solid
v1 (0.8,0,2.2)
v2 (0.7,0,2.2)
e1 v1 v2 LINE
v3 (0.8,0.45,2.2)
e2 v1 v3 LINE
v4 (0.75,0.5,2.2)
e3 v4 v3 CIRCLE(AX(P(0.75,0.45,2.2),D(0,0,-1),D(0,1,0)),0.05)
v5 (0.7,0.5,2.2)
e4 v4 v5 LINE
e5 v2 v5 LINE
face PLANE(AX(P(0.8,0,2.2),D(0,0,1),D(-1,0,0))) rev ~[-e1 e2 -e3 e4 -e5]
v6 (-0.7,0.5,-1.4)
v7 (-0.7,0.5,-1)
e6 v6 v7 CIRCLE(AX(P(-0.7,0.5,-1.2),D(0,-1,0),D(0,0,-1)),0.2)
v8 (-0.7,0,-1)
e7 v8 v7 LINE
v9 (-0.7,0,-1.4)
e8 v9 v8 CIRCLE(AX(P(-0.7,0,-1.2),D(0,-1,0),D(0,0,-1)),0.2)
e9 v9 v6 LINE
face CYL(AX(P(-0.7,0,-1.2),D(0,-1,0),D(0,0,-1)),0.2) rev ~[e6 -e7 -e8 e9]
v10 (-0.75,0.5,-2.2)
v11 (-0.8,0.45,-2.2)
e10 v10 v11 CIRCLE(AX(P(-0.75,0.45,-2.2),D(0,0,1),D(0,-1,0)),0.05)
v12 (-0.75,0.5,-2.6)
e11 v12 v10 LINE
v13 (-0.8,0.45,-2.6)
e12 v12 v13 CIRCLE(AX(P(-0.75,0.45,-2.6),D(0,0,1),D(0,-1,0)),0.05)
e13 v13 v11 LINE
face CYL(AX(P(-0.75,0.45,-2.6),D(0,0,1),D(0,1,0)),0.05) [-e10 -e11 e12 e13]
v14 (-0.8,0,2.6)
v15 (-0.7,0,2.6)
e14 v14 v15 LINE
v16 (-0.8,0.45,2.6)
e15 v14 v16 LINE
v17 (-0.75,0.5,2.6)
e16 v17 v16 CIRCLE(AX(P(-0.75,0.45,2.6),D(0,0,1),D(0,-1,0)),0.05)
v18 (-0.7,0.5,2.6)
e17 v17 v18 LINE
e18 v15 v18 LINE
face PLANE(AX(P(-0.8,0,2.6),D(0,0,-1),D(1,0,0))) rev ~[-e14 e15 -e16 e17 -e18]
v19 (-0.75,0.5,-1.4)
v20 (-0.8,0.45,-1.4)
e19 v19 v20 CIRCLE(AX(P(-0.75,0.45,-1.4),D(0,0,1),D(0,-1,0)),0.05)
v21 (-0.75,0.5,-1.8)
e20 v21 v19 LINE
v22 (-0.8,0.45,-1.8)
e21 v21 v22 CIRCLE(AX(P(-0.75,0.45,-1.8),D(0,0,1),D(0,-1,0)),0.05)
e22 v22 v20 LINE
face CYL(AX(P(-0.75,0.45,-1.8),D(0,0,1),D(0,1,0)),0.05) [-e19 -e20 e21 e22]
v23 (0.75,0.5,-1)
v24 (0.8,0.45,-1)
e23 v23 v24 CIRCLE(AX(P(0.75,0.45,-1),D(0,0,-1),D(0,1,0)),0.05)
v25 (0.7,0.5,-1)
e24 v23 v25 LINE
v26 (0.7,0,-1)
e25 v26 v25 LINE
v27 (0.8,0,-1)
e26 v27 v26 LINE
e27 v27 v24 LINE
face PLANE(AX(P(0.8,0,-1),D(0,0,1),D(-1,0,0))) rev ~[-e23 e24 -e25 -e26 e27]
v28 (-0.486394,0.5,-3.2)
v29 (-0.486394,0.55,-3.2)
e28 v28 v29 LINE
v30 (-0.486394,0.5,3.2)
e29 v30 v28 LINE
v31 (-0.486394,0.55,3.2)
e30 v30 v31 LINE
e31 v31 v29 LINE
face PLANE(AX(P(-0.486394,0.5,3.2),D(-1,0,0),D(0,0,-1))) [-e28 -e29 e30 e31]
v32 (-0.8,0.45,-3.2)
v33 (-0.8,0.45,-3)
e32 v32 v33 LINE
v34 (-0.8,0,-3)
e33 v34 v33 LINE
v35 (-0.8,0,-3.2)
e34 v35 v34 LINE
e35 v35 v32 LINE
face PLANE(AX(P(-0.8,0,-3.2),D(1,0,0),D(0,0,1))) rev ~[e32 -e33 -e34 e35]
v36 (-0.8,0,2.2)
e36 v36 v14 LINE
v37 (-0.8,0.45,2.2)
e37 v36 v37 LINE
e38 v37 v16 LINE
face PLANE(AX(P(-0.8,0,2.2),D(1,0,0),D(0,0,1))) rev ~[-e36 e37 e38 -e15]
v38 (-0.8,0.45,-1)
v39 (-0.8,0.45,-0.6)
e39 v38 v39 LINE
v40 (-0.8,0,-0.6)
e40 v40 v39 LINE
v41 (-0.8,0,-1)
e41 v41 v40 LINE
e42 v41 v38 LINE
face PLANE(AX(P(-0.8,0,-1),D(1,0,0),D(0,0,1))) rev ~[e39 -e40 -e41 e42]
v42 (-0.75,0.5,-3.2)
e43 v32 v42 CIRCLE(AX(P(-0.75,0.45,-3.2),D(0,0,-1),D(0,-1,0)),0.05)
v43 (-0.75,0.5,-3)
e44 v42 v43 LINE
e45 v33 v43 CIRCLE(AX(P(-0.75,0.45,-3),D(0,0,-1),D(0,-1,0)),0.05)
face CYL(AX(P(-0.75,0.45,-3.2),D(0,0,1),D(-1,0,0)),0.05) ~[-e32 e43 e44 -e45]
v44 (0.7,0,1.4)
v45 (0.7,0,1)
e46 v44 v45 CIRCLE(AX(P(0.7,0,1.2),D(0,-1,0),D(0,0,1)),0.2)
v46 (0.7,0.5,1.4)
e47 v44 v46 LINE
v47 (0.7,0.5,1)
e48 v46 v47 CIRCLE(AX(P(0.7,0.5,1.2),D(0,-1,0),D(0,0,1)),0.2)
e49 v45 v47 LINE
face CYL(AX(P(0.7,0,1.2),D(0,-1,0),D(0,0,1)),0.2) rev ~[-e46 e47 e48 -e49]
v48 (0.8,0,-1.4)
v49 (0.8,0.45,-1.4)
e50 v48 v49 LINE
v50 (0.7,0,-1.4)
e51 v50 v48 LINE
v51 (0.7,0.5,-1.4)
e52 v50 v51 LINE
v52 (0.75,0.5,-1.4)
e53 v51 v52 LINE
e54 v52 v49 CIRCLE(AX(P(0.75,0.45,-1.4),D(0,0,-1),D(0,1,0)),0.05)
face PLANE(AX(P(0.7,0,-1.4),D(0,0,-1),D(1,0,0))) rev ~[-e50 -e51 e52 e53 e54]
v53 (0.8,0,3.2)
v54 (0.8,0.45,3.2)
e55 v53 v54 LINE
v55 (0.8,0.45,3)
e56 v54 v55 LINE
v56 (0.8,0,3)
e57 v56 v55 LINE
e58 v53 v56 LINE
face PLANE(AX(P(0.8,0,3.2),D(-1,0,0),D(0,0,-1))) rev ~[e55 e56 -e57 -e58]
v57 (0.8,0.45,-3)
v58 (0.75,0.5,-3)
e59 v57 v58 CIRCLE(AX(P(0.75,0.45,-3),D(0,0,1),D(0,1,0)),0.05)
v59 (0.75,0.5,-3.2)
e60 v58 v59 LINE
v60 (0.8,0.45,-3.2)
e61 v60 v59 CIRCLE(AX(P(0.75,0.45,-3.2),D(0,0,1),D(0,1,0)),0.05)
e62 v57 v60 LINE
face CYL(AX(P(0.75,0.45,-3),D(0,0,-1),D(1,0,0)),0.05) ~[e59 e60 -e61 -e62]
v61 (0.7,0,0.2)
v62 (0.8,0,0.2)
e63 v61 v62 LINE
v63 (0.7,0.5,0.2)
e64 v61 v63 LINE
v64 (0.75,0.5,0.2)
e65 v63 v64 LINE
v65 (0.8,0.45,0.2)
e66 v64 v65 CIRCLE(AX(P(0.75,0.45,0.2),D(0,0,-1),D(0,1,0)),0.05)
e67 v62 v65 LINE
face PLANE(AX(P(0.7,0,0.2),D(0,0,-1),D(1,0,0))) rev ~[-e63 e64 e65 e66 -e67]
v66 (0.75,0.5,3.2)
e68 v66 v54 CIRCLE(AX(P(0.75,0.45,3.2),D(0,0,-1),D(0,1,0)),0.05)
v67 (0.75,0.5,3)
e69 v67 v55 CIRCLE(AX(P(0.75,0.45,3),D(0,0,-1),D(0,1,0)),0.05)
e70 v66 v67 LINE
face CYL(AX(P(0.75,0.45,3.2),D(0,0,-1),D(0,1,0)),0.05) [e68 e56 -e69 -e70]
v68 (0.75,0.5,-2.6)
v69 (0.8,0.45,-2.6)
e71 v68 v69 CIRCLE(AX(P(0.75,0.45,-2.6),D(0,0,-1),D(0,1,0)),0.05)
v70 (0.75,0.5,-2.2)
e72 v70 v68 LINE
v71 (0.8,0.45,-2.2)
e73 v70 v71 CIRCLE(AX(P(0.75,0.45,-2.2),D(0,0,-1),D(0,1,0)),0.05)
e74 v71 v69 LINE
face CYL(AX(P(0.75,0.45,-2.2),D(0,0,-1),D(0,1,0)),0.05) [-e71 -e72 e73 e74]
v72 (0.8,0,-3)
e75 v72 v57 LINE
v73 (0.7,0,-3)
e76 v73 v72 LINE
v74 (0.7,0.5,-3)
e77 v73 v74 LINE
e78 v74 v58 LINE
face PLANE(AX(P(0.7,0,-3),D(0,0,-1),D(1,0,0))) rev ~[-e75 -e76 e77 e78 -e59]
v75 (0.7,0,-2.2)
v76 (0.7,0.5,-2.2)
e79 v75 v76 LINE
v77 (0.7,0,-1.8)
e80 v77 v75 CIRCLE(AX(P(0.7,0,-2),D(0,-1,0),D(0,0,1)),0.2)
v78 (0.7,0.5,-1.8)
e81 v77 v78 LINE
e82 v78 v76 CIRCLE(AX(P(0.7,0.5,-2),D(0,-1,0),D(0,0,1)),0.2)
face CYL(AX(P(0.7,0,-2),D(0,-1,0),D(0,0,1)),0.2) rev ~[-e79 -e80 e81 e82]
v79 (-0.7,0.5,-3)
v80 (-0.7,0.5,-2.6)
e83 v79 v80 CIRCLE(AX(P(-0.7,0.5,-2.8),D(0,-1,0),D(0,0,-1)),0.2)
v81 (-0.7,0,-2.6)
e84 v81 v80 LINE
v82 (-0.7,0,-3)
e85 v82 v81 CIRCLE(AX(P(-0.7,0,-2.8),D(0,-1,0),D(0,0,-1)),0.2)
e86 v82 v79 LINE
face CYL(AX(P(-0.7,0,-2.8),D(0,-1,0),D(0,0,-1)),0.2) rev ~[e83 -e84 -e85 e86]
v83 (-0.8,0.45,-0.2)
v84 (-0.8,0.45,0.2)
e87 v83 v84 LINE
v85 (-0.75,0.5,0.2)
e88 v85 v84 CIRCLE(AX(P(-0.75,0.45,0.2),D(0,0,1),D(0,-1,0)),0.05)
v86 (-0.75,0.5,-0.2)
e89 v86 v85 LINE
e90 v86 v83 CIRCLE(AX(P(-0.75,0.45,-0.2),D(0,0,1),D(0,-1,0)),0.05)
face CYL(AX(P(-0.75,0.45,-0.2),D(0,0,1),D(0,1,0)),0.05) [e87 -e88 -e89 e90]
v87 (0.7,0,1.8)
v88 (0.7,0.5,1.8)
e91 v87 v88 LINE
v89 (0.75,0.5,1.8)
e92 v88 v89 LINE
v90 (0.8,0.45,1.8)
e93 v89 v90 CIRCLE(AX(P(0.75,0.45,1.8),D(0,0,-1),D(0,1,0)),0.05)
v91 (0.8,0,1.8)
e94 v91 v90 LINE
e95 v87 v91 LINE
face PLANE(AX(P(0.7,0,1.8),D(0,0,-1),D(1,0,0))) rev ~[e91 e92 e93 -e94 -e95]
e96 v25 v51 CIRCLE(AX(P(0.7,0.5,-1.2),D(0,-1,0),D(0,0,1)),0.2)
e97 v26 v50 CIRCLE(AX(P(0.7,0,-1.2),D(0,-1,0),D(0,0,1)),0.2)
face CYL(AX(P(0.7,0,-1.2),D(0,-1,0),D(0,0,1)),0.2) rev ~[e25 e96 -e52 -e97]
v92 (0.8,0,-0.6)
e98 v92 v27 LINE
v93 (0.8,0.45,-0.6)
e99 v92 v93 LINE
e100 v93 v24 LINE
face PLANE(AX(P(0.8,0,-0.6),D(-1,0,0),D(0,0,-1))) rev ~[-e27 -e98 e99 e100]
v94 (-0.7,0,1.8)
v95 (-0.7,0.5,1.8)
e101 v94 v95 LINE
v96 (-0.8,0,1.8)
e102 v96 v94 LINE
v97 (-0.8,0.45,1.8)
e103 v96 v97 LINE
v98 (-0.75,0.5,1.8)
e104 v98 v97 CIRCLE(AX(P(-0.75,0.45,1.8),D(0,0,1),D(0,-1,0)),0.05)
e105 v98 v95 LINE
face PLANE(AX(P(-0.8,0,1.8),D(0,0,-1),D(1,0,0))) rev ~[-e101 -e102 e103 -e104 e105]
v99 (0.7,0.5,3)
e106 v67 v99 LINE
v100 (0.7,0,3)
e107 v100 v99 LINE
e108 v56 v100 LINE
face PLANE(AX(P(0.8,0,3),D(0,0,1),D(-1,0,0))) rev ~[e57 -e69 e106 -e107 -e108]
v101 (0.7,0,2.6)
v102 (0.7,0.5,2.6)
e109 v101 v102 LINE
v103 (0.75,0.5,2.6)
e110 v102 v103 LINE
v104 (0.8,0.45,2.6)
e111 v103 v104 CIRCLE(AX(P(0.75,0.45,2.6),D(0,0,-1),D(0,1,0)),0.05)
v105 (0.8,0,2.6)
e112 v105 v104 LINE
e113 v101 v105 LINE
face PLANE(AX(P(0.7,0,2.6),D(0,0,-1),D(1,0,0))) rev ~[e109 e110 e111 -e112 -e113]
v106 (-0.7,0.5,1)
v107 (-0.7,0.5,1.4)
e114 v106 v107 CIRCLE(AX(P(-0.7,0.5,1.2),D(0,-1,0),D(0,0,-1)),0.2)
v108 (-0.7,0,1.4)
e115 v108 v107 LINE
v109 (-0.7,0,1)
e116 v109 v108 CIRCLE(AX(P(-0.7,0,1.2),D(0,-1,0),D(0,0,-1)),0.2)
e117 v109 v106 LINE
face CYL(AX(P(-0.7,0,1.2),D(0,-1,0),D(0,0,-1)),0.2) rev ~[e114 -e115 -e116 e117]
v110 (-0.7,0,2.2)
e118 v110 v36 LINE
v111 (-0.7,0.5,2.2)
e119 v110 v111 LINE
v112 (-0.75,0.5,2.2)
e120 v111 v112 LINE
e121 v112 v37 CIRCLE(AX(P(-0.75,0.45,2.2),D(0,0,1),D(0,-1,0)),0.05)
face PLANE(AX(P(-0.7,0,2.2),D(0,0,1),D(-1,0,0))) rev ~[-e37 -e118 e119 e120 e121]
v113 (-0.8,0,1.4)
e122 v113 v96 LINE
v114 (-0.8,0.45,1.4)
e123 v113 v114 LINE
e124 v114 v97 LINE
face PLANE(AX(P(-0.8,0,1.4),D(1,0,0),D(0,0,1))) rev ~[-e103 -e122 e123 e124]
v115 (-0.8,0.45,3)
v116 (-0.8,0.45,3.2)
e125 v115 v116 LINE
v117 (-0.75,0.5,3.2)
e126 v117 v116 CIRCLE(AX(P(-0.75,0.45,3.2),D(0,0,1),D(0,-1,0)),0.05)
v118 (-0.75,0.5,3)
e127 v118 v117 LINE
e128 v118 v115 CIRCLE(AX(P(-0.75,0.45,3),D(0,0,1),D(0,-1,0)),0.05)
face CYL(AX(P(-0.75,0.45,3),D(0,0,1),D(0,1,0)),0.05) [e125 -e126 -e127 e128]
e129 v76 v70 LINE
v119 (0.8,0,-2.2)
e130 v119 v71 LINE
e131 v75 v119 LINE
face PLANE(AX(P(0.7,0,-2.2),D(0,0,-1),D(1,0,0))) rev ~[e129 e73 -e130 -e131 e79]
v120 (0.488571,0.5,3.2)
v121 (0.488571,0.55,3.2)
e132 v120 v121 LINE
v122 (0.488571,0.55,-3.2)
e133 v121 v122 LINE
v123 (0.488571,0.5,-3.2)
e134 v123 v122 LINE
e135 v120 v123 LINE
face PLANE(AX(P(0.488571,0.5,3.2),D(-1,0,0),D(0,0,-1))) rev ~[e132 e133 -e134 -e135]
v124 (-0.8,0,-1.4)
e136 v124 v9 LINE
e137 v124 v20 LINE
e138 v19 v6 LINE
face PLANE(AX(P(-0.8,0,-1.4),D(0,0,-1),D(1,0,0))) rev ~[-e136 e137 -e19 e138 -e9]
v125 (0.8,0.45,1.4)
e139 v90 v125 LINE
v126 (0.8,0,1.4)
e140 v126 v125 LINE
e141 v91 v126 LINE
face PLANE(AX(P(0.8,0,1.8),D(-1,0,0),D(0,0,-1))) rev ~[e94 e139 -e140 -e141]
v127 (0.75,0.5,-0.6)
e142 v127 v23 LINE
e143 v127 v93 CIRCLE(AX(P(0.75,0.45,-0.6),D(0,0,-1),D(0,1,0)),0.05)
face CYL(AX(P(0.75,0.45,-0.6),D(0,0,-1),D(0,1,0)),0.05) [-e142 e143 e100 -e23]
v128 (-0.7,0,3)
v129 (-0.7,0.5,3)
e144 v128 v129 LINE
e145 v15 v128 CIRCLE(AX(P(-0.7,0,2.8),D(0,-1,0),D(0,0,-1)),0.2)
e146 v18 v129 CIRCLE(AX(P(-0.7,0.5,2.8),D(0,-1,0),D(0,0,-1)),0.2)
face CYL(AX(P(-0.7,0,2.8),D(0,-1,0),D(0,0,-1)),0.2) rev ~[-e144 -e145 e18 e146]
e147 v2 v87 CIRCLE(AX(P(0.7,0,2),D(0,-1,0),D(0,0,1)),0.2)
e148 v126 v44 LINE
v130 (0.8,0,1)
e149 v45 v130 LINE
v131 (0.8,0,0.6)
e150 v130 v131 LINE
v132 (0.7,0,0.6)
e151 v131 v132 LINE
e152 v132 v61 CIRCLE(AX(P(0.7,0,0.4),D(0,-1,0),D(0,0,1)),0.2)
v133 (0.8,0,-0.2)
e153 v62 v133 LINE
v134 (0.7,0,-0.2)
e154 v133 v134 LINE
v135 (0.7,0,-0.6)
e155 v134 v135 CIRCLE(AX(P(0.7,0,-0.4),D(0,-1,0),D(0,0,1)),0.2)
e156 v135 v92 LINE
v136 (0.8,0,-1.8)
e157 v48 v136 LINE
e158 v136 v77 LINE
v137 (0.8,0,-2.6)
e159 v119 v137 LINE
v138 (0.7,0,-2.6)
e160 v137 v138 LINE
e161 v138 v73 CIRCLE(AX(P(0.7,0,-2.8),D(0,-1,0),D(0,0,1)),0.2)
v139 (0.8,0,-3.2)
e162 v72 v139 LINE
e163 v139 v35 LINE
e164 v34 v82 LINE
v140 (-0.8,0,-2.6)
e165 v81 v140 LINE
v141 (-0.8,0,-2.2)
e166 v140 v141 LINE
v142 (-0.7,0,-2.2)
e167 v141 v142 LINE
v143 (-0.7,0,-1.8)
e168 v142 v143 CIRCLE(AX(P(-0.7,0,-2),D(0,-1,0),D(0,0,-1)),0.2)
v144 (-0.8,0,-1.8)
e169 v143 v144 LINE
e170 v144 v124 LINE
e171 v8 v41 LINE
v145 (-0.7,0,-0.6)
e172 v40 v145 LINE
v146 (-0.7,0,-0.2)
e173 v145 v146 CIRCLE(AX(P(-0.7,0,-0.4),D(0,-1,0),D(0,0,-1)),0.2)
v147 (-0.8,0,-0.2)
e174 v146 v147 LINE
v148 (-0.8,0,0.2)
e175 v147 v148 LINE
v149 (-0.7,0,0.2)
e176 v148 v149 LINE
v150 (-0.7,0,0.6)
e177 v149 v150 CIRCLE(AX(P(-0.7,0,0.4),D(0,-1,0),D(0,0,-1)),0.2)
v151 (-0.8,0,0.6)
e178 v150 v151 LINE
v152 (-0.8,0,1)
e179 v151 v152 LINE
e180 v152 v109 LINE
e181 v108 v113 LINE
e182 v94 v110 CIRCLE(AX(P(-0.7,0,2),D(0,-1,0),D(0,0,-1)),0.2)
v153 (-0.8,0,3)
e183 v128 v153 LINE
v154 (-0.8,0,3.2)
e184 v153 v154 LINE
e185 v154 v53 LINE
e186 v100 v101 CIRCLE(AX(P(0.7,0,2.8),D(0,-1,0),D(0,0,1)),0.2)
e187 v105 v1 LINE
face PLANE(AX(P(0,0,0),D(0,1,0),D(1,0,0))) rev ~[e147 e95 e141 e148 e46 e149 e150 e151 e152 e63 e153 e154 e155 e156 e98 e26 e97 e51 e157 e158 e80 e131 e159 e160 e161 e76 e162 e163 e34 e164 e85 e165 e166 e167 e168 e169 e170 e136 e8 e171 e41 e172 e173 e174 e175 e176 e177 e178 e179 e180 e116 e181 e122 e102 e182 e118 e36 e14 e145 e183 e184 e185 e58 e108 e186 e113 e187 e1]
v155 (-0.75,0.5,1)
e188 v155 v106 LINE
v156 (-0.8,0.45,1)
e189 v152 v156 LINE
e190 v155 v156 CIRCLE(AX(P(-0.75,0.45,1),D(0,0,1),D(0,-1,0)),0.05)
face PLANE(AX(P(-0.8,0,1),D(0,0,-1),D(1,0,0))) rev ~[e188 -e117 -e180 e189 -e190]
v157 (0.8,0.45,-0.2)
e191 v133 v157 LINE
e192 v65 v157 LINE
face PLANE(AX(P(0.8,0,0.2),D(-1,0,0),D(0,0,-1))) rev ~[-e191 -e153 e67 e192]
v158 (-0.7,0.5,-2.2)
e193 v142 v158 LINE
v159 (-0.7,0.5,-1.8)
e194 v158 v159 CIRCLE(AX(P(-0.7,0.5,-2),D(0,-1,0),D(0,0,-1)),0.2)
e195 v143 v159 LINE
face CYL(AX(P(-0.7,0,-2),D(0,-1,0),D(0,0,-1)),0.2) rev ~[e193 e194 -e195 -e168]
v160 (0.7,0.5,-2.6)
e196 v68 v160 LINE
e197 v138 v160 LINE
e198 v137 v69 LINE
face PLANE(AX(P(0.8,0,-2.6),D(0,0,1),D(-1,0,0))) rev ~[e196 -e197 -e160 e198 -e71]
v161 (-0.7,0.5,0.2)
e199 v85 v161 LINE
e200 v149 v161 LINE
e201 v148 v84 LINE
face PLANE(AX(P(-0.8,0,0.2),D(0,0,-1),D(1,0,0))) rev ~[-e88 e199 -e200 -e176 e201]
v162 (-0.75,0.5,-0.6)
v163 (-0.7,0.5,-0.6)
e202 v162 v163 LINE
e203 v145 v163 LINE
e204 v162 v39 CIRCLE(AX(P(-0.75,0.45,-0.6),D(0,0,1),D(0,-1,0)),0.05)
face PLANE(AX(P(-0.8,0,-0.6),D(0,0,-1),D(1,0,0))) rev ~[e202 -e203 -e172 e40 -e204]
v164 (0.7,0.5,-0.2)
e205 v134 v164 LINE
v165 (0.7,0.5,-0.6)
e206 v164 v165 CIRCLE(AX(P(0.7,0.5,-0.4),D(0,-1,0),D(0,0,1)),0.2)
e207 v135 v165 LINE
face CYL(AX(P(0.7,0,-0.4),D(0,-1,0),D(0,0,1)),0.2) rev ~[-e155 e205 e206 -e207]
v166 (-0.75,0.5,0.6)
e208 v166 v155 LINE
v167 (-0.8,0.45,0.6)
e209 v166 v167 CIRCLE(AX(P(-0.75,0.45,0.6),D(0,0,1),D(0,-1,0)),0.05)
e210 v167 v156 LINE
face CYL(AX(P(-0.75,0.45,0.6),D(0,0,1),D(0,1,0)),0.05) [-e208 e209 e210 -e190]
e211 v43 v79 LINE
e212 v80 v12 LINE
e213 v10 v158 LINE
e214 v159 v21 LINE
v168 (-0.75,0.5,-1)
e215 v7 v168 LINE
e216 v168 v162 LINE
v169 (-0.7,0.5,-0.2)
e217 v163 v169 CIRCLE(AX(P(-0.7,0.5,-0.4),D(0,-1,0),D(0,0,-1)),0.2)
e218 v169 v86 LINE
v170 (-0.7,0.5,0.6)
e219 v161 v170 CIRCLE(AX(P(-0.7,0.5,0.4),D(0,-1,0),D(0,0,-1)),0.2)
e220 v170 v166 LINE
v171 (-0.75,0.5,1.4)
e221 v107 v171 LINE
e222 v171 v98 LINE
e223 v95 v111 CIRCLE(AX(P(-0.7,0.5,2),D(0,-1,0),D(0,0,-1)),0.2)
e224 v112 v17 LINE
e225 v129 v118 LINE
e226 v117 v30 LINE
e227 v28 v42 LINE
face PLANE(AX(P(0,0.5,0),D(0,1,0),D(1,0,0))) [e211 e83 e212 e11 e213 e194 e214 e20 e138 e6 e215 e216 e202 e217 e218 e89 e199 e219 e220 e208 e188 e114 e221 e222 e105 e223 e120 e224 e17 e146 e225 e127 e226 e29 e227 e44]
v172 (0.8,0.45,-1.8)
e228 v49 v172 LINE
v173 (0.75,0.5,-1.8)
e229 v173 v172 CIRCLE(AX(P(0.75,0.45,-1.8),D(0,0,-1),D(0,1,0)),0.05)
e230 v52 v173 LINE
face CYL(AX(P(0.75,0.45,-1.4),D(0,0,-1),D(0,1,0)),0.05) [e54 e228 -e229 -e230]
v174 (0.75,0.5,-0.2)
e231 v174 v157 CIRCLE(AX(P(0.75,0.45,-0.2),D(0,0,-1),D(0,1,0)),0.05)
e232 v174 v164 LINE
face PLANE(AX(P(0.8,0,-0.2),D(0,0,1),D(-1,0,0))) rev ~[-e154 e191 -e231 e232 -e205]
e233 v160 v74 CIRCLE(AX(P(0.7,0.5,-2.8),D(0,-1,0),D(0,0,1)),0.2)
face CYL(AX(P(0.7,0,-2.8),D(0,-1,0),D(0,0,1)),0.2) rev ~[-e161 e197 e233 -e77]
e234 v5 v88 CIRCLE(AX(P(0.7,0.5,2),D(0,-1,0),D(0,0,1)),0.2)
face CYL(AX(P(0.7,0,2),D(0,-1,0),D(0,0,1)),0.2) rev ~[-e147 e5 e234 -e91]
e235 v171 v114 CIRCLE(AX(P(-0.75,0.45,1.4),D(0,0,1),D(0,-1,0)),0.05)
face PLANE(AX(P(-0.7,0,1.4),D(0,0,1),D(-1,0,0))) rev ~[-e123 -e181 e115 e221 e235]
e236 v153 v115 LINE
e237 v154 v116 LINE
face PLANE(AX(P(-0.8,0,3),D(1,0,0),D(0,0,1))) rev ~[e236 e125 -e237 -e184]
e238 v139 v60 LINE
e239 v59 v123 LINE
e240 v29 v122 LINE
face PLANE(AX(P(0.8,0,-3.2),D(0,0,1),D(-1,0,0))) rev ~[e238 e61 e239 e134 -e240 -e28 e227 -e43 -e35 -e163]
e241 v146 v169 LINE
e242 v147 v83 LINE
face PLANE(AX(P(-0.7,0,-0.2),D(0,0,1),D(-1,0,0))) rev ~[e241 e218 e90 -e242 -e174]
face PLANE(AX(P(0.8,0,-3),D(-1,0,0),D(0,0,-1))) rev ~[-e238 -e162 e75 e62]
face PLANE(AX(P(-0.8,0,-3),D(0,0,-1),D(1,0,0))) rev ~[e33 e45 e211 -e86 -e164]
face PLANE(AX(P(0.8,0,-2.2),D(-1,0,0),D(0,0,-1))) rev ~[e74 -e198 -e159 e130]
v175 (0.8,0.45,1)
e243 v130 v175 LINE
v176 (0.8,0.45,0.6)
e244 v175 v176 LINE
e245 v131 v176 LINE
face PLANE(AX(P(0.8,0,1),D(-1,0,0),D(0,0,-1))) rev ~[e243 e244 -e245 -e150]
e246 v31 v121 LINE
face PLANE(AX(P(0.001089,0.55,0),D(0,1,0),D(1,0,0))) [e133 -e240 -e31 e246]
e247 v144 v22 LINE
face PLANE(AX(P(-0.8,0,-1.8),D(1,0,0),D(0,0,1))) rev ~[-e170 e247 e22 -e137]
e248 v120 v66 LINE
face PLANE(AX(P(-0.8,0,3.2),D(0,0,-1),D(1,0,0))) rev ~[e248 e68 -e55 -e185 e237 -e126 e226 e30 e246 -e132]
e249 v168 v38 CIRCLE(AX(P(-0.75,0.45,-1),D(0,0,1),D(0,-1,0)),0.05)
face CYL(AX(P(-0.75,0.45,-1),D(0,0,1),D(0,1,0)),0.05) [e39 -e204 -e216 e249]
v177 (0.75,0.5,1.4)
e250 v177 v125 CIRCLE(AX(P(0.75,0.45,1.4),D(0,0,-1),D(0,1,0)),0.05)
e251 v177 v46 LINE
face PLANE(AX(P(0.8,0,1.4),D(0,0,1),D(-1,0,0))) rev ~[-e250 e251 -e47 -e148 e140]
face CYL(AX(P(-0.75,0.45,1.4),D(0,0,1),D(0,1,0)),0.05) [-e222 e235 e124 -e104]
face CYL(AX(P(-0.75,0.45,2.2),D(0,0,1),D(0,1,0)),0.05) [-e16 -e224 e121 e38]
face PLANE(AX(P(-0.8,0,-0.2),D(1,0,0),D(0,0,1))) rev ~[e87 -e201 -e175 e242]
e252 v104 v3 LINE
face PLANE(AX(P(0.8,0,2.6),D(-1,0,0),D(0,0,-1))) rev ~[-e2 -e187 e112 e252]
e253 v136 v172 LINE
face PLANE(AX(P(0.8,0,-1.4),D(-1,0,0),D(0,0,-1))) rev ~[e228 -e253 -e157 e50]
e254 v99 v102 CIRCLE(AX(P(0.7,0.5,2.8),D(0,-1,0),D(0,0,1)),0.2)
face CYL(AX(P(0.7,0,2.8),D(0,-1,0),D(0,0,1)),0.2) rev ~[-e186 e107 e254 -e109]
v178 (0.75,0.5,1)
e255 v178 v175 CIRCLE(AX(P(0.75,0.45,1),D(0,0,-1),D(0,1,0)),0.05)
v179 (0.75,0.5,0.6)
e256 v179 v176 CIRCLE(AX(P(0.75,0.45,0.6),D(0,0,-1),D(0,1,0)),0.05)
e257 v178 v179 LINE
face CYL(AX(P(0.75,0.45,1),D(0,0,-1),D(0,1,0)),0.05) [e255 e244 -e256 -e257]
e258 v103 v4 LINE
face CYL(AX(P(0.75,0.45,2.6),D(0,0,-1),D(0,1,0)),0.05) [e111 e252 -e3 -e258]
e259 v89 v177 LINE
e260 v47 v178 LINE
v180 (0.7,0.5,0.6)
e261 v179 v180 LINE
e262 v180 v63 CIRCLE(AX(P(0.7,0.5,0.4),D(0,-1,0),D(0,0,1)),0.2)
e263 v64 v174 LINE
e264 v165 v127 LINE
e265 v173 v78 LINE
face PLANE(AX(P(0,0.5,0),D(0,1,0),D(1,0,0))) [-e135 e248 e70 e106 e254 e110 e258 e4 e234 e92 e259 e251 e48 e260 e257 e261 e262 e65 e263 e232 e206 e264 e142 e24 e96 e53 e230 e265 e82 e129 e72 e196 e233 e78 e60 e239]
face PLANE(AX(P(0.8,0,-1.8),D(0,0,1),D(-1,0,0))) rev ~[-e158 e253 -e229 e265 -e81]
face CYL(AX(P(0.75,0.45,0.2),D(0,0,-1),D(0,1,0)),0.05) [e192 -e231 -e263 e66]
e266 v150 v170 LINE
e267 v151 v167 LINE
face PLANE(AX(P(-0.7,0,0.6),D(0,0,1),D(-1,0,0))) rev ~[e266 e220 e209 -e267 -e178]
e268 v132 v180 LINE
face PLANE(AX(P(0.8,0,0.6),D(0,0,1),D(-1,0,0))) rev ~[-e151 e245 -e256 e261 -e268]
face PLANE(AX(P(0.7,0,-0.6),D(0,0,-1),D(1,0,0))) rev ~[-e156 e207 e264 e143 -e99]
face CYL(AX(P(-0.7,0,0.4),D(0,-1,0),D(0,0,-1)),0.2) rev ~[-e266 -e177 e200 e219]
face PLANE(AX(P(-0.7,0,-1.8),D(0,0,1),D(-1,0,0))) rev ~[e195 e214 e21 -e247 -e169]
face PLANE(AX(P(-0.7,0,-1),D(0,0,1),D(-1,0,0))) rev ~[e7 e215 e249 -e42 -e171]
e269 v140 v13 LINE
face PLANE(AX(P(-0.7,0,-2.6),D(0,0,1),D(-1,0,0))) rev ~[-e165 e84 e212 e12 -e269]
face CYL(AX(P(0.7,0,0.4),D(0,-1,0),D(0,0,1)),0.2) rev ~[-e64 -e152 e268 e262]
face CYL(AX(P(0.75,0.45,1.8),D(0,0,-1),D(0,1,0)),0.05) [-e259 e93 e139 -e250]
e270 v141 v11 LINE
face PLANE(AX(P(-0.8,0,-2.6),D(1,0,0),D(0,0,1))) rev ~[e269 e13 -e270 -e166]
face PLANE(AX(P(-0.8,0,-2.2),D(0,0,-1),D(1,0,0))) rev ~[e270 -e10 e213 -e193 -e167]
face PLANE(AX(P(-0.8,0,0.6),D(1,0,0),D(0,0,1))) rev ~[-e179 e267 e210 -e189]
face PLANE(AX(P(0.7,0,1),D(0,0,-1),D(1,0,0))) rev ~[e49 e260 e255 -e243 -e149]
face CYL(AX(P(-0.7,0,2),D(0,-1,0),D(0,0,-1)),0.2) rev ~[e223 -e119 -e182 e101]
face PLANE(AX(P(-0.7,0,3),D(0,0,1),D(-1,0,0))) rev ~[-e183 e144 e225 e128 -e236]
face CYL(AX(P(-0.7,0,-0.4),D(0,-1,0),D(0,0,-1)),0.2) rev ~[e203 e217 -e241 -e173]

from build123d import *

# Parameters (mm, degrees)
BOSS_EXTRUDE1_DEPTH = 0.5
SKETCH2_W           = 0.974965632
SKETCH2_H           = 6.4
BOSS_EXTRUDE2_DEPTH = 0.05
FILLET2_R           = 0.05


with BuildPart() as part:
    # Sketch1 → Boss-Extrude1 (new body)
    with BuildSketch(Plane(origin=(0, 0, 0), x_dir=(1, 0, 0), z_dir=(0, 1, 0))):
        with BuildLine():
            Line((-0.8, 3.2), (-0.8, 3))
            Line((-0.8, 3), (-0.7, 3))
            ThreePointArc((-0.7, 3), (-0.5, 2.8), (-0.7, 2.6))
            Line((-0.7, 2.6), (-0.8, 2.6))
            Line((-0.8, 2.6), (-0.8, 2.2))
            Line((-0.8, 2.2), (-0.7, 2.2))
            ThreePointArc((-0.7, 2.2), (-0.5, 2), (-0.7, 1.8))
            Line((-0.7, 1.8), (-0.8, 1.8))
            Line((-0.8, 1.8), (-0.8, 1.4))
            Line((-0.8, 1.4), (-0.7, 1.4))
            ThreePointArc((-0.7, 1.4), (-0.5, 1.2), (-0.7, 1))
            Line((-0.7, 1), (-0.8, 1))
            Line((-0.8, 1), (-0.8, 0.6))
            Line((-0.8, 0.6), (-0.7, 0.6))
            ThreePointArc((-0.7, 0.6), (-0.5, 0.4), (-0.7, 0.2))
            Line((-0.7, 0.2), (-0.8, 0.2))
            Line((-0.8, 0.2), (-0.8, -0.2))
            Line((-0.8, -0.2), (-0.7, -0.2))
            ThreePointArc((-0.7, -0.2), (-0.5, -0.4), (-0.7, -0.6))
            Line((-0.7, -0.6), (-0.8, -0.6))
            Line((-0.8, -0.6), (-0.8, -1))
            Line((-0.8, -1), (-0.7, -1))
            ThreePointArc((-0.7, -1), (-0.5, -1.2), (-0.7, -1.4))
            Line((-0.7, -1.4), (-0.8, -1.4))
            Line((-0.8, -1.4), (-0.8, -1.8))
            Line((-0.8, -1.8), (-0.7, -1.8))
            ThreePointArc((-0.7, -1.8), (-0.5, -2), (-0.7, -2.2))
            Line((-0.7, -2.2), (-0.8, -2.2))
            Line((-0.8, -2.2), (-0.8, -2.6))
            Line((-0.8, -2.6), (-0.7, -2.6))
            ThreePointArc((-0.7, -2.6), (-0.5, -2.8), (-0.7, -3))
            Line((-0.7, -3), (-0.8, -3))
            Line((-0.8, -3), (-0.8, -3.2))
            Line((-0.8, -3.2), (0.8, -3.2))
            Line((0.8, -3.2), (0.8, -3))
            Line((0.8, -3), (0.7, -3))
            ThreePointArc((0.7, -3), (0.5, -2.8), (0.7, -2.6))
            Line((0.7, -2.6), (0.8, -2.6))
            Line((0.8, -2.6), (0.8, -2.2))
            Line((0.8, -2.2), (0.7, -2.2))
            ThreePointArc((0.7, -2.2), (0.5, -2), (0.7, -1.8))
            Line((0.7, -1.8), (0.8, -1.8))
            Line((0.8, -1.8), (0.8, -1.4))
            Line((0.8, -1.4), (0.7, -1.4))
            ThreePointArc((0.7, -1.4), (0.5, -1.2), (0.7, -1))
            Line((0.7, -1), (0.8, -1))
            Line((0.8, -1), (0.8, -0.6))
            Line((0.8, -0.6), (0.7, -0.6))
            ThreePointArc((0.7, -0.6), (0.5, -0.4), (0.7, -0.2))
            Line((0.7, -0.2), (0.8, -0.2))
            Line((0.8, -0.2), (0.8, 0.2))
            Line((0.8, 0.2), (0.7, 0.2))
            ThreePointArc((0.7, 0.2), (0.5, 0.4), (0.7, 0.6))
            Line((0.7, 0.6), (0.8, 0.6))
            Line((0.8, 0.6), (0.8, 1))
            Line((0.8, 1), (0.7, 1))
            ThreePointArc((0.7, 1), (0.5, 1.2), (0.7, 1.4))
            Line((0.7, 1.4), (0.8, 1.4))
            Line((0.8, 1.4), (0.8, 1.8))
            Line((0.8, 1.8), (0.7, 1.8))
            ThreePointArc((0.7, 1.8), (0.5, 2), (0.7, 2.2))
            Line((0.7, 2.2), (0.8, 2.2))
            Line((0.8, 2.2), (0.8, 2.6))
            Line((0.8, 2.6), (0.7, 2.6))
            ThreePointArc((0.7, 2.6), (0.5, 2.8), (0.7, 3))
            Line((0.7, 3), (0.8, 3))
            Line((0.8, 3), (0.8, 3.2))
            Line((0.8, 3.2), (-0.8, 3.2))
        make_face()
    extrude(amount=BOSS_EXTRUDE1_DEPTH)

    # Sketch2 → Boss-Extrude2 (add)
    with BuildSketch(Plane(origin=(0, 0.5, 0), x_dir=(1, 0, 0), z_dir=(0, 1, 0))):
        with Locations((0.001088626, 0)):
            Rectangle(SKETCH2_W, SKETCH2_H)
    extrude(amount=BOSS_EXTRUDE2_DEPTH)

    # Fillet2
    fillet2_edges = [part.edges().sort_by_distance(p)[0] for p in [
        (-0.8, 0.5, 1.6),
        (-0.8, 0.5, 2.4),
        (-0.8, 0.5, 3.1),
        (0.8, 0.5, 3.1),
        (0.8, 0.5, 2.4),
        (0.8, 0.5, 1.6),
        (0.8, 0.5, 0.8),
        (0.8, 0.5, 0),
        (0.8, 0.5, -0.8),
        (0.8, 0.5, -1.6),
        (-0.8, 0.5, -2.4),
        (0.8, 0.5, -2.4),
        (0.8, 0.5, -3.1),
        (-0.8, 0.5, -1.6),
        (-0.8, 0.5, -0.8),
        (-0.8, 0.5, 0),
        (-0.8, 0.5, 0.8),
        (-0.8, 0.5, -3.1),
    ]]
    fillet(fillet2_edges, radius=FILLET2_R)


solid = part.part
